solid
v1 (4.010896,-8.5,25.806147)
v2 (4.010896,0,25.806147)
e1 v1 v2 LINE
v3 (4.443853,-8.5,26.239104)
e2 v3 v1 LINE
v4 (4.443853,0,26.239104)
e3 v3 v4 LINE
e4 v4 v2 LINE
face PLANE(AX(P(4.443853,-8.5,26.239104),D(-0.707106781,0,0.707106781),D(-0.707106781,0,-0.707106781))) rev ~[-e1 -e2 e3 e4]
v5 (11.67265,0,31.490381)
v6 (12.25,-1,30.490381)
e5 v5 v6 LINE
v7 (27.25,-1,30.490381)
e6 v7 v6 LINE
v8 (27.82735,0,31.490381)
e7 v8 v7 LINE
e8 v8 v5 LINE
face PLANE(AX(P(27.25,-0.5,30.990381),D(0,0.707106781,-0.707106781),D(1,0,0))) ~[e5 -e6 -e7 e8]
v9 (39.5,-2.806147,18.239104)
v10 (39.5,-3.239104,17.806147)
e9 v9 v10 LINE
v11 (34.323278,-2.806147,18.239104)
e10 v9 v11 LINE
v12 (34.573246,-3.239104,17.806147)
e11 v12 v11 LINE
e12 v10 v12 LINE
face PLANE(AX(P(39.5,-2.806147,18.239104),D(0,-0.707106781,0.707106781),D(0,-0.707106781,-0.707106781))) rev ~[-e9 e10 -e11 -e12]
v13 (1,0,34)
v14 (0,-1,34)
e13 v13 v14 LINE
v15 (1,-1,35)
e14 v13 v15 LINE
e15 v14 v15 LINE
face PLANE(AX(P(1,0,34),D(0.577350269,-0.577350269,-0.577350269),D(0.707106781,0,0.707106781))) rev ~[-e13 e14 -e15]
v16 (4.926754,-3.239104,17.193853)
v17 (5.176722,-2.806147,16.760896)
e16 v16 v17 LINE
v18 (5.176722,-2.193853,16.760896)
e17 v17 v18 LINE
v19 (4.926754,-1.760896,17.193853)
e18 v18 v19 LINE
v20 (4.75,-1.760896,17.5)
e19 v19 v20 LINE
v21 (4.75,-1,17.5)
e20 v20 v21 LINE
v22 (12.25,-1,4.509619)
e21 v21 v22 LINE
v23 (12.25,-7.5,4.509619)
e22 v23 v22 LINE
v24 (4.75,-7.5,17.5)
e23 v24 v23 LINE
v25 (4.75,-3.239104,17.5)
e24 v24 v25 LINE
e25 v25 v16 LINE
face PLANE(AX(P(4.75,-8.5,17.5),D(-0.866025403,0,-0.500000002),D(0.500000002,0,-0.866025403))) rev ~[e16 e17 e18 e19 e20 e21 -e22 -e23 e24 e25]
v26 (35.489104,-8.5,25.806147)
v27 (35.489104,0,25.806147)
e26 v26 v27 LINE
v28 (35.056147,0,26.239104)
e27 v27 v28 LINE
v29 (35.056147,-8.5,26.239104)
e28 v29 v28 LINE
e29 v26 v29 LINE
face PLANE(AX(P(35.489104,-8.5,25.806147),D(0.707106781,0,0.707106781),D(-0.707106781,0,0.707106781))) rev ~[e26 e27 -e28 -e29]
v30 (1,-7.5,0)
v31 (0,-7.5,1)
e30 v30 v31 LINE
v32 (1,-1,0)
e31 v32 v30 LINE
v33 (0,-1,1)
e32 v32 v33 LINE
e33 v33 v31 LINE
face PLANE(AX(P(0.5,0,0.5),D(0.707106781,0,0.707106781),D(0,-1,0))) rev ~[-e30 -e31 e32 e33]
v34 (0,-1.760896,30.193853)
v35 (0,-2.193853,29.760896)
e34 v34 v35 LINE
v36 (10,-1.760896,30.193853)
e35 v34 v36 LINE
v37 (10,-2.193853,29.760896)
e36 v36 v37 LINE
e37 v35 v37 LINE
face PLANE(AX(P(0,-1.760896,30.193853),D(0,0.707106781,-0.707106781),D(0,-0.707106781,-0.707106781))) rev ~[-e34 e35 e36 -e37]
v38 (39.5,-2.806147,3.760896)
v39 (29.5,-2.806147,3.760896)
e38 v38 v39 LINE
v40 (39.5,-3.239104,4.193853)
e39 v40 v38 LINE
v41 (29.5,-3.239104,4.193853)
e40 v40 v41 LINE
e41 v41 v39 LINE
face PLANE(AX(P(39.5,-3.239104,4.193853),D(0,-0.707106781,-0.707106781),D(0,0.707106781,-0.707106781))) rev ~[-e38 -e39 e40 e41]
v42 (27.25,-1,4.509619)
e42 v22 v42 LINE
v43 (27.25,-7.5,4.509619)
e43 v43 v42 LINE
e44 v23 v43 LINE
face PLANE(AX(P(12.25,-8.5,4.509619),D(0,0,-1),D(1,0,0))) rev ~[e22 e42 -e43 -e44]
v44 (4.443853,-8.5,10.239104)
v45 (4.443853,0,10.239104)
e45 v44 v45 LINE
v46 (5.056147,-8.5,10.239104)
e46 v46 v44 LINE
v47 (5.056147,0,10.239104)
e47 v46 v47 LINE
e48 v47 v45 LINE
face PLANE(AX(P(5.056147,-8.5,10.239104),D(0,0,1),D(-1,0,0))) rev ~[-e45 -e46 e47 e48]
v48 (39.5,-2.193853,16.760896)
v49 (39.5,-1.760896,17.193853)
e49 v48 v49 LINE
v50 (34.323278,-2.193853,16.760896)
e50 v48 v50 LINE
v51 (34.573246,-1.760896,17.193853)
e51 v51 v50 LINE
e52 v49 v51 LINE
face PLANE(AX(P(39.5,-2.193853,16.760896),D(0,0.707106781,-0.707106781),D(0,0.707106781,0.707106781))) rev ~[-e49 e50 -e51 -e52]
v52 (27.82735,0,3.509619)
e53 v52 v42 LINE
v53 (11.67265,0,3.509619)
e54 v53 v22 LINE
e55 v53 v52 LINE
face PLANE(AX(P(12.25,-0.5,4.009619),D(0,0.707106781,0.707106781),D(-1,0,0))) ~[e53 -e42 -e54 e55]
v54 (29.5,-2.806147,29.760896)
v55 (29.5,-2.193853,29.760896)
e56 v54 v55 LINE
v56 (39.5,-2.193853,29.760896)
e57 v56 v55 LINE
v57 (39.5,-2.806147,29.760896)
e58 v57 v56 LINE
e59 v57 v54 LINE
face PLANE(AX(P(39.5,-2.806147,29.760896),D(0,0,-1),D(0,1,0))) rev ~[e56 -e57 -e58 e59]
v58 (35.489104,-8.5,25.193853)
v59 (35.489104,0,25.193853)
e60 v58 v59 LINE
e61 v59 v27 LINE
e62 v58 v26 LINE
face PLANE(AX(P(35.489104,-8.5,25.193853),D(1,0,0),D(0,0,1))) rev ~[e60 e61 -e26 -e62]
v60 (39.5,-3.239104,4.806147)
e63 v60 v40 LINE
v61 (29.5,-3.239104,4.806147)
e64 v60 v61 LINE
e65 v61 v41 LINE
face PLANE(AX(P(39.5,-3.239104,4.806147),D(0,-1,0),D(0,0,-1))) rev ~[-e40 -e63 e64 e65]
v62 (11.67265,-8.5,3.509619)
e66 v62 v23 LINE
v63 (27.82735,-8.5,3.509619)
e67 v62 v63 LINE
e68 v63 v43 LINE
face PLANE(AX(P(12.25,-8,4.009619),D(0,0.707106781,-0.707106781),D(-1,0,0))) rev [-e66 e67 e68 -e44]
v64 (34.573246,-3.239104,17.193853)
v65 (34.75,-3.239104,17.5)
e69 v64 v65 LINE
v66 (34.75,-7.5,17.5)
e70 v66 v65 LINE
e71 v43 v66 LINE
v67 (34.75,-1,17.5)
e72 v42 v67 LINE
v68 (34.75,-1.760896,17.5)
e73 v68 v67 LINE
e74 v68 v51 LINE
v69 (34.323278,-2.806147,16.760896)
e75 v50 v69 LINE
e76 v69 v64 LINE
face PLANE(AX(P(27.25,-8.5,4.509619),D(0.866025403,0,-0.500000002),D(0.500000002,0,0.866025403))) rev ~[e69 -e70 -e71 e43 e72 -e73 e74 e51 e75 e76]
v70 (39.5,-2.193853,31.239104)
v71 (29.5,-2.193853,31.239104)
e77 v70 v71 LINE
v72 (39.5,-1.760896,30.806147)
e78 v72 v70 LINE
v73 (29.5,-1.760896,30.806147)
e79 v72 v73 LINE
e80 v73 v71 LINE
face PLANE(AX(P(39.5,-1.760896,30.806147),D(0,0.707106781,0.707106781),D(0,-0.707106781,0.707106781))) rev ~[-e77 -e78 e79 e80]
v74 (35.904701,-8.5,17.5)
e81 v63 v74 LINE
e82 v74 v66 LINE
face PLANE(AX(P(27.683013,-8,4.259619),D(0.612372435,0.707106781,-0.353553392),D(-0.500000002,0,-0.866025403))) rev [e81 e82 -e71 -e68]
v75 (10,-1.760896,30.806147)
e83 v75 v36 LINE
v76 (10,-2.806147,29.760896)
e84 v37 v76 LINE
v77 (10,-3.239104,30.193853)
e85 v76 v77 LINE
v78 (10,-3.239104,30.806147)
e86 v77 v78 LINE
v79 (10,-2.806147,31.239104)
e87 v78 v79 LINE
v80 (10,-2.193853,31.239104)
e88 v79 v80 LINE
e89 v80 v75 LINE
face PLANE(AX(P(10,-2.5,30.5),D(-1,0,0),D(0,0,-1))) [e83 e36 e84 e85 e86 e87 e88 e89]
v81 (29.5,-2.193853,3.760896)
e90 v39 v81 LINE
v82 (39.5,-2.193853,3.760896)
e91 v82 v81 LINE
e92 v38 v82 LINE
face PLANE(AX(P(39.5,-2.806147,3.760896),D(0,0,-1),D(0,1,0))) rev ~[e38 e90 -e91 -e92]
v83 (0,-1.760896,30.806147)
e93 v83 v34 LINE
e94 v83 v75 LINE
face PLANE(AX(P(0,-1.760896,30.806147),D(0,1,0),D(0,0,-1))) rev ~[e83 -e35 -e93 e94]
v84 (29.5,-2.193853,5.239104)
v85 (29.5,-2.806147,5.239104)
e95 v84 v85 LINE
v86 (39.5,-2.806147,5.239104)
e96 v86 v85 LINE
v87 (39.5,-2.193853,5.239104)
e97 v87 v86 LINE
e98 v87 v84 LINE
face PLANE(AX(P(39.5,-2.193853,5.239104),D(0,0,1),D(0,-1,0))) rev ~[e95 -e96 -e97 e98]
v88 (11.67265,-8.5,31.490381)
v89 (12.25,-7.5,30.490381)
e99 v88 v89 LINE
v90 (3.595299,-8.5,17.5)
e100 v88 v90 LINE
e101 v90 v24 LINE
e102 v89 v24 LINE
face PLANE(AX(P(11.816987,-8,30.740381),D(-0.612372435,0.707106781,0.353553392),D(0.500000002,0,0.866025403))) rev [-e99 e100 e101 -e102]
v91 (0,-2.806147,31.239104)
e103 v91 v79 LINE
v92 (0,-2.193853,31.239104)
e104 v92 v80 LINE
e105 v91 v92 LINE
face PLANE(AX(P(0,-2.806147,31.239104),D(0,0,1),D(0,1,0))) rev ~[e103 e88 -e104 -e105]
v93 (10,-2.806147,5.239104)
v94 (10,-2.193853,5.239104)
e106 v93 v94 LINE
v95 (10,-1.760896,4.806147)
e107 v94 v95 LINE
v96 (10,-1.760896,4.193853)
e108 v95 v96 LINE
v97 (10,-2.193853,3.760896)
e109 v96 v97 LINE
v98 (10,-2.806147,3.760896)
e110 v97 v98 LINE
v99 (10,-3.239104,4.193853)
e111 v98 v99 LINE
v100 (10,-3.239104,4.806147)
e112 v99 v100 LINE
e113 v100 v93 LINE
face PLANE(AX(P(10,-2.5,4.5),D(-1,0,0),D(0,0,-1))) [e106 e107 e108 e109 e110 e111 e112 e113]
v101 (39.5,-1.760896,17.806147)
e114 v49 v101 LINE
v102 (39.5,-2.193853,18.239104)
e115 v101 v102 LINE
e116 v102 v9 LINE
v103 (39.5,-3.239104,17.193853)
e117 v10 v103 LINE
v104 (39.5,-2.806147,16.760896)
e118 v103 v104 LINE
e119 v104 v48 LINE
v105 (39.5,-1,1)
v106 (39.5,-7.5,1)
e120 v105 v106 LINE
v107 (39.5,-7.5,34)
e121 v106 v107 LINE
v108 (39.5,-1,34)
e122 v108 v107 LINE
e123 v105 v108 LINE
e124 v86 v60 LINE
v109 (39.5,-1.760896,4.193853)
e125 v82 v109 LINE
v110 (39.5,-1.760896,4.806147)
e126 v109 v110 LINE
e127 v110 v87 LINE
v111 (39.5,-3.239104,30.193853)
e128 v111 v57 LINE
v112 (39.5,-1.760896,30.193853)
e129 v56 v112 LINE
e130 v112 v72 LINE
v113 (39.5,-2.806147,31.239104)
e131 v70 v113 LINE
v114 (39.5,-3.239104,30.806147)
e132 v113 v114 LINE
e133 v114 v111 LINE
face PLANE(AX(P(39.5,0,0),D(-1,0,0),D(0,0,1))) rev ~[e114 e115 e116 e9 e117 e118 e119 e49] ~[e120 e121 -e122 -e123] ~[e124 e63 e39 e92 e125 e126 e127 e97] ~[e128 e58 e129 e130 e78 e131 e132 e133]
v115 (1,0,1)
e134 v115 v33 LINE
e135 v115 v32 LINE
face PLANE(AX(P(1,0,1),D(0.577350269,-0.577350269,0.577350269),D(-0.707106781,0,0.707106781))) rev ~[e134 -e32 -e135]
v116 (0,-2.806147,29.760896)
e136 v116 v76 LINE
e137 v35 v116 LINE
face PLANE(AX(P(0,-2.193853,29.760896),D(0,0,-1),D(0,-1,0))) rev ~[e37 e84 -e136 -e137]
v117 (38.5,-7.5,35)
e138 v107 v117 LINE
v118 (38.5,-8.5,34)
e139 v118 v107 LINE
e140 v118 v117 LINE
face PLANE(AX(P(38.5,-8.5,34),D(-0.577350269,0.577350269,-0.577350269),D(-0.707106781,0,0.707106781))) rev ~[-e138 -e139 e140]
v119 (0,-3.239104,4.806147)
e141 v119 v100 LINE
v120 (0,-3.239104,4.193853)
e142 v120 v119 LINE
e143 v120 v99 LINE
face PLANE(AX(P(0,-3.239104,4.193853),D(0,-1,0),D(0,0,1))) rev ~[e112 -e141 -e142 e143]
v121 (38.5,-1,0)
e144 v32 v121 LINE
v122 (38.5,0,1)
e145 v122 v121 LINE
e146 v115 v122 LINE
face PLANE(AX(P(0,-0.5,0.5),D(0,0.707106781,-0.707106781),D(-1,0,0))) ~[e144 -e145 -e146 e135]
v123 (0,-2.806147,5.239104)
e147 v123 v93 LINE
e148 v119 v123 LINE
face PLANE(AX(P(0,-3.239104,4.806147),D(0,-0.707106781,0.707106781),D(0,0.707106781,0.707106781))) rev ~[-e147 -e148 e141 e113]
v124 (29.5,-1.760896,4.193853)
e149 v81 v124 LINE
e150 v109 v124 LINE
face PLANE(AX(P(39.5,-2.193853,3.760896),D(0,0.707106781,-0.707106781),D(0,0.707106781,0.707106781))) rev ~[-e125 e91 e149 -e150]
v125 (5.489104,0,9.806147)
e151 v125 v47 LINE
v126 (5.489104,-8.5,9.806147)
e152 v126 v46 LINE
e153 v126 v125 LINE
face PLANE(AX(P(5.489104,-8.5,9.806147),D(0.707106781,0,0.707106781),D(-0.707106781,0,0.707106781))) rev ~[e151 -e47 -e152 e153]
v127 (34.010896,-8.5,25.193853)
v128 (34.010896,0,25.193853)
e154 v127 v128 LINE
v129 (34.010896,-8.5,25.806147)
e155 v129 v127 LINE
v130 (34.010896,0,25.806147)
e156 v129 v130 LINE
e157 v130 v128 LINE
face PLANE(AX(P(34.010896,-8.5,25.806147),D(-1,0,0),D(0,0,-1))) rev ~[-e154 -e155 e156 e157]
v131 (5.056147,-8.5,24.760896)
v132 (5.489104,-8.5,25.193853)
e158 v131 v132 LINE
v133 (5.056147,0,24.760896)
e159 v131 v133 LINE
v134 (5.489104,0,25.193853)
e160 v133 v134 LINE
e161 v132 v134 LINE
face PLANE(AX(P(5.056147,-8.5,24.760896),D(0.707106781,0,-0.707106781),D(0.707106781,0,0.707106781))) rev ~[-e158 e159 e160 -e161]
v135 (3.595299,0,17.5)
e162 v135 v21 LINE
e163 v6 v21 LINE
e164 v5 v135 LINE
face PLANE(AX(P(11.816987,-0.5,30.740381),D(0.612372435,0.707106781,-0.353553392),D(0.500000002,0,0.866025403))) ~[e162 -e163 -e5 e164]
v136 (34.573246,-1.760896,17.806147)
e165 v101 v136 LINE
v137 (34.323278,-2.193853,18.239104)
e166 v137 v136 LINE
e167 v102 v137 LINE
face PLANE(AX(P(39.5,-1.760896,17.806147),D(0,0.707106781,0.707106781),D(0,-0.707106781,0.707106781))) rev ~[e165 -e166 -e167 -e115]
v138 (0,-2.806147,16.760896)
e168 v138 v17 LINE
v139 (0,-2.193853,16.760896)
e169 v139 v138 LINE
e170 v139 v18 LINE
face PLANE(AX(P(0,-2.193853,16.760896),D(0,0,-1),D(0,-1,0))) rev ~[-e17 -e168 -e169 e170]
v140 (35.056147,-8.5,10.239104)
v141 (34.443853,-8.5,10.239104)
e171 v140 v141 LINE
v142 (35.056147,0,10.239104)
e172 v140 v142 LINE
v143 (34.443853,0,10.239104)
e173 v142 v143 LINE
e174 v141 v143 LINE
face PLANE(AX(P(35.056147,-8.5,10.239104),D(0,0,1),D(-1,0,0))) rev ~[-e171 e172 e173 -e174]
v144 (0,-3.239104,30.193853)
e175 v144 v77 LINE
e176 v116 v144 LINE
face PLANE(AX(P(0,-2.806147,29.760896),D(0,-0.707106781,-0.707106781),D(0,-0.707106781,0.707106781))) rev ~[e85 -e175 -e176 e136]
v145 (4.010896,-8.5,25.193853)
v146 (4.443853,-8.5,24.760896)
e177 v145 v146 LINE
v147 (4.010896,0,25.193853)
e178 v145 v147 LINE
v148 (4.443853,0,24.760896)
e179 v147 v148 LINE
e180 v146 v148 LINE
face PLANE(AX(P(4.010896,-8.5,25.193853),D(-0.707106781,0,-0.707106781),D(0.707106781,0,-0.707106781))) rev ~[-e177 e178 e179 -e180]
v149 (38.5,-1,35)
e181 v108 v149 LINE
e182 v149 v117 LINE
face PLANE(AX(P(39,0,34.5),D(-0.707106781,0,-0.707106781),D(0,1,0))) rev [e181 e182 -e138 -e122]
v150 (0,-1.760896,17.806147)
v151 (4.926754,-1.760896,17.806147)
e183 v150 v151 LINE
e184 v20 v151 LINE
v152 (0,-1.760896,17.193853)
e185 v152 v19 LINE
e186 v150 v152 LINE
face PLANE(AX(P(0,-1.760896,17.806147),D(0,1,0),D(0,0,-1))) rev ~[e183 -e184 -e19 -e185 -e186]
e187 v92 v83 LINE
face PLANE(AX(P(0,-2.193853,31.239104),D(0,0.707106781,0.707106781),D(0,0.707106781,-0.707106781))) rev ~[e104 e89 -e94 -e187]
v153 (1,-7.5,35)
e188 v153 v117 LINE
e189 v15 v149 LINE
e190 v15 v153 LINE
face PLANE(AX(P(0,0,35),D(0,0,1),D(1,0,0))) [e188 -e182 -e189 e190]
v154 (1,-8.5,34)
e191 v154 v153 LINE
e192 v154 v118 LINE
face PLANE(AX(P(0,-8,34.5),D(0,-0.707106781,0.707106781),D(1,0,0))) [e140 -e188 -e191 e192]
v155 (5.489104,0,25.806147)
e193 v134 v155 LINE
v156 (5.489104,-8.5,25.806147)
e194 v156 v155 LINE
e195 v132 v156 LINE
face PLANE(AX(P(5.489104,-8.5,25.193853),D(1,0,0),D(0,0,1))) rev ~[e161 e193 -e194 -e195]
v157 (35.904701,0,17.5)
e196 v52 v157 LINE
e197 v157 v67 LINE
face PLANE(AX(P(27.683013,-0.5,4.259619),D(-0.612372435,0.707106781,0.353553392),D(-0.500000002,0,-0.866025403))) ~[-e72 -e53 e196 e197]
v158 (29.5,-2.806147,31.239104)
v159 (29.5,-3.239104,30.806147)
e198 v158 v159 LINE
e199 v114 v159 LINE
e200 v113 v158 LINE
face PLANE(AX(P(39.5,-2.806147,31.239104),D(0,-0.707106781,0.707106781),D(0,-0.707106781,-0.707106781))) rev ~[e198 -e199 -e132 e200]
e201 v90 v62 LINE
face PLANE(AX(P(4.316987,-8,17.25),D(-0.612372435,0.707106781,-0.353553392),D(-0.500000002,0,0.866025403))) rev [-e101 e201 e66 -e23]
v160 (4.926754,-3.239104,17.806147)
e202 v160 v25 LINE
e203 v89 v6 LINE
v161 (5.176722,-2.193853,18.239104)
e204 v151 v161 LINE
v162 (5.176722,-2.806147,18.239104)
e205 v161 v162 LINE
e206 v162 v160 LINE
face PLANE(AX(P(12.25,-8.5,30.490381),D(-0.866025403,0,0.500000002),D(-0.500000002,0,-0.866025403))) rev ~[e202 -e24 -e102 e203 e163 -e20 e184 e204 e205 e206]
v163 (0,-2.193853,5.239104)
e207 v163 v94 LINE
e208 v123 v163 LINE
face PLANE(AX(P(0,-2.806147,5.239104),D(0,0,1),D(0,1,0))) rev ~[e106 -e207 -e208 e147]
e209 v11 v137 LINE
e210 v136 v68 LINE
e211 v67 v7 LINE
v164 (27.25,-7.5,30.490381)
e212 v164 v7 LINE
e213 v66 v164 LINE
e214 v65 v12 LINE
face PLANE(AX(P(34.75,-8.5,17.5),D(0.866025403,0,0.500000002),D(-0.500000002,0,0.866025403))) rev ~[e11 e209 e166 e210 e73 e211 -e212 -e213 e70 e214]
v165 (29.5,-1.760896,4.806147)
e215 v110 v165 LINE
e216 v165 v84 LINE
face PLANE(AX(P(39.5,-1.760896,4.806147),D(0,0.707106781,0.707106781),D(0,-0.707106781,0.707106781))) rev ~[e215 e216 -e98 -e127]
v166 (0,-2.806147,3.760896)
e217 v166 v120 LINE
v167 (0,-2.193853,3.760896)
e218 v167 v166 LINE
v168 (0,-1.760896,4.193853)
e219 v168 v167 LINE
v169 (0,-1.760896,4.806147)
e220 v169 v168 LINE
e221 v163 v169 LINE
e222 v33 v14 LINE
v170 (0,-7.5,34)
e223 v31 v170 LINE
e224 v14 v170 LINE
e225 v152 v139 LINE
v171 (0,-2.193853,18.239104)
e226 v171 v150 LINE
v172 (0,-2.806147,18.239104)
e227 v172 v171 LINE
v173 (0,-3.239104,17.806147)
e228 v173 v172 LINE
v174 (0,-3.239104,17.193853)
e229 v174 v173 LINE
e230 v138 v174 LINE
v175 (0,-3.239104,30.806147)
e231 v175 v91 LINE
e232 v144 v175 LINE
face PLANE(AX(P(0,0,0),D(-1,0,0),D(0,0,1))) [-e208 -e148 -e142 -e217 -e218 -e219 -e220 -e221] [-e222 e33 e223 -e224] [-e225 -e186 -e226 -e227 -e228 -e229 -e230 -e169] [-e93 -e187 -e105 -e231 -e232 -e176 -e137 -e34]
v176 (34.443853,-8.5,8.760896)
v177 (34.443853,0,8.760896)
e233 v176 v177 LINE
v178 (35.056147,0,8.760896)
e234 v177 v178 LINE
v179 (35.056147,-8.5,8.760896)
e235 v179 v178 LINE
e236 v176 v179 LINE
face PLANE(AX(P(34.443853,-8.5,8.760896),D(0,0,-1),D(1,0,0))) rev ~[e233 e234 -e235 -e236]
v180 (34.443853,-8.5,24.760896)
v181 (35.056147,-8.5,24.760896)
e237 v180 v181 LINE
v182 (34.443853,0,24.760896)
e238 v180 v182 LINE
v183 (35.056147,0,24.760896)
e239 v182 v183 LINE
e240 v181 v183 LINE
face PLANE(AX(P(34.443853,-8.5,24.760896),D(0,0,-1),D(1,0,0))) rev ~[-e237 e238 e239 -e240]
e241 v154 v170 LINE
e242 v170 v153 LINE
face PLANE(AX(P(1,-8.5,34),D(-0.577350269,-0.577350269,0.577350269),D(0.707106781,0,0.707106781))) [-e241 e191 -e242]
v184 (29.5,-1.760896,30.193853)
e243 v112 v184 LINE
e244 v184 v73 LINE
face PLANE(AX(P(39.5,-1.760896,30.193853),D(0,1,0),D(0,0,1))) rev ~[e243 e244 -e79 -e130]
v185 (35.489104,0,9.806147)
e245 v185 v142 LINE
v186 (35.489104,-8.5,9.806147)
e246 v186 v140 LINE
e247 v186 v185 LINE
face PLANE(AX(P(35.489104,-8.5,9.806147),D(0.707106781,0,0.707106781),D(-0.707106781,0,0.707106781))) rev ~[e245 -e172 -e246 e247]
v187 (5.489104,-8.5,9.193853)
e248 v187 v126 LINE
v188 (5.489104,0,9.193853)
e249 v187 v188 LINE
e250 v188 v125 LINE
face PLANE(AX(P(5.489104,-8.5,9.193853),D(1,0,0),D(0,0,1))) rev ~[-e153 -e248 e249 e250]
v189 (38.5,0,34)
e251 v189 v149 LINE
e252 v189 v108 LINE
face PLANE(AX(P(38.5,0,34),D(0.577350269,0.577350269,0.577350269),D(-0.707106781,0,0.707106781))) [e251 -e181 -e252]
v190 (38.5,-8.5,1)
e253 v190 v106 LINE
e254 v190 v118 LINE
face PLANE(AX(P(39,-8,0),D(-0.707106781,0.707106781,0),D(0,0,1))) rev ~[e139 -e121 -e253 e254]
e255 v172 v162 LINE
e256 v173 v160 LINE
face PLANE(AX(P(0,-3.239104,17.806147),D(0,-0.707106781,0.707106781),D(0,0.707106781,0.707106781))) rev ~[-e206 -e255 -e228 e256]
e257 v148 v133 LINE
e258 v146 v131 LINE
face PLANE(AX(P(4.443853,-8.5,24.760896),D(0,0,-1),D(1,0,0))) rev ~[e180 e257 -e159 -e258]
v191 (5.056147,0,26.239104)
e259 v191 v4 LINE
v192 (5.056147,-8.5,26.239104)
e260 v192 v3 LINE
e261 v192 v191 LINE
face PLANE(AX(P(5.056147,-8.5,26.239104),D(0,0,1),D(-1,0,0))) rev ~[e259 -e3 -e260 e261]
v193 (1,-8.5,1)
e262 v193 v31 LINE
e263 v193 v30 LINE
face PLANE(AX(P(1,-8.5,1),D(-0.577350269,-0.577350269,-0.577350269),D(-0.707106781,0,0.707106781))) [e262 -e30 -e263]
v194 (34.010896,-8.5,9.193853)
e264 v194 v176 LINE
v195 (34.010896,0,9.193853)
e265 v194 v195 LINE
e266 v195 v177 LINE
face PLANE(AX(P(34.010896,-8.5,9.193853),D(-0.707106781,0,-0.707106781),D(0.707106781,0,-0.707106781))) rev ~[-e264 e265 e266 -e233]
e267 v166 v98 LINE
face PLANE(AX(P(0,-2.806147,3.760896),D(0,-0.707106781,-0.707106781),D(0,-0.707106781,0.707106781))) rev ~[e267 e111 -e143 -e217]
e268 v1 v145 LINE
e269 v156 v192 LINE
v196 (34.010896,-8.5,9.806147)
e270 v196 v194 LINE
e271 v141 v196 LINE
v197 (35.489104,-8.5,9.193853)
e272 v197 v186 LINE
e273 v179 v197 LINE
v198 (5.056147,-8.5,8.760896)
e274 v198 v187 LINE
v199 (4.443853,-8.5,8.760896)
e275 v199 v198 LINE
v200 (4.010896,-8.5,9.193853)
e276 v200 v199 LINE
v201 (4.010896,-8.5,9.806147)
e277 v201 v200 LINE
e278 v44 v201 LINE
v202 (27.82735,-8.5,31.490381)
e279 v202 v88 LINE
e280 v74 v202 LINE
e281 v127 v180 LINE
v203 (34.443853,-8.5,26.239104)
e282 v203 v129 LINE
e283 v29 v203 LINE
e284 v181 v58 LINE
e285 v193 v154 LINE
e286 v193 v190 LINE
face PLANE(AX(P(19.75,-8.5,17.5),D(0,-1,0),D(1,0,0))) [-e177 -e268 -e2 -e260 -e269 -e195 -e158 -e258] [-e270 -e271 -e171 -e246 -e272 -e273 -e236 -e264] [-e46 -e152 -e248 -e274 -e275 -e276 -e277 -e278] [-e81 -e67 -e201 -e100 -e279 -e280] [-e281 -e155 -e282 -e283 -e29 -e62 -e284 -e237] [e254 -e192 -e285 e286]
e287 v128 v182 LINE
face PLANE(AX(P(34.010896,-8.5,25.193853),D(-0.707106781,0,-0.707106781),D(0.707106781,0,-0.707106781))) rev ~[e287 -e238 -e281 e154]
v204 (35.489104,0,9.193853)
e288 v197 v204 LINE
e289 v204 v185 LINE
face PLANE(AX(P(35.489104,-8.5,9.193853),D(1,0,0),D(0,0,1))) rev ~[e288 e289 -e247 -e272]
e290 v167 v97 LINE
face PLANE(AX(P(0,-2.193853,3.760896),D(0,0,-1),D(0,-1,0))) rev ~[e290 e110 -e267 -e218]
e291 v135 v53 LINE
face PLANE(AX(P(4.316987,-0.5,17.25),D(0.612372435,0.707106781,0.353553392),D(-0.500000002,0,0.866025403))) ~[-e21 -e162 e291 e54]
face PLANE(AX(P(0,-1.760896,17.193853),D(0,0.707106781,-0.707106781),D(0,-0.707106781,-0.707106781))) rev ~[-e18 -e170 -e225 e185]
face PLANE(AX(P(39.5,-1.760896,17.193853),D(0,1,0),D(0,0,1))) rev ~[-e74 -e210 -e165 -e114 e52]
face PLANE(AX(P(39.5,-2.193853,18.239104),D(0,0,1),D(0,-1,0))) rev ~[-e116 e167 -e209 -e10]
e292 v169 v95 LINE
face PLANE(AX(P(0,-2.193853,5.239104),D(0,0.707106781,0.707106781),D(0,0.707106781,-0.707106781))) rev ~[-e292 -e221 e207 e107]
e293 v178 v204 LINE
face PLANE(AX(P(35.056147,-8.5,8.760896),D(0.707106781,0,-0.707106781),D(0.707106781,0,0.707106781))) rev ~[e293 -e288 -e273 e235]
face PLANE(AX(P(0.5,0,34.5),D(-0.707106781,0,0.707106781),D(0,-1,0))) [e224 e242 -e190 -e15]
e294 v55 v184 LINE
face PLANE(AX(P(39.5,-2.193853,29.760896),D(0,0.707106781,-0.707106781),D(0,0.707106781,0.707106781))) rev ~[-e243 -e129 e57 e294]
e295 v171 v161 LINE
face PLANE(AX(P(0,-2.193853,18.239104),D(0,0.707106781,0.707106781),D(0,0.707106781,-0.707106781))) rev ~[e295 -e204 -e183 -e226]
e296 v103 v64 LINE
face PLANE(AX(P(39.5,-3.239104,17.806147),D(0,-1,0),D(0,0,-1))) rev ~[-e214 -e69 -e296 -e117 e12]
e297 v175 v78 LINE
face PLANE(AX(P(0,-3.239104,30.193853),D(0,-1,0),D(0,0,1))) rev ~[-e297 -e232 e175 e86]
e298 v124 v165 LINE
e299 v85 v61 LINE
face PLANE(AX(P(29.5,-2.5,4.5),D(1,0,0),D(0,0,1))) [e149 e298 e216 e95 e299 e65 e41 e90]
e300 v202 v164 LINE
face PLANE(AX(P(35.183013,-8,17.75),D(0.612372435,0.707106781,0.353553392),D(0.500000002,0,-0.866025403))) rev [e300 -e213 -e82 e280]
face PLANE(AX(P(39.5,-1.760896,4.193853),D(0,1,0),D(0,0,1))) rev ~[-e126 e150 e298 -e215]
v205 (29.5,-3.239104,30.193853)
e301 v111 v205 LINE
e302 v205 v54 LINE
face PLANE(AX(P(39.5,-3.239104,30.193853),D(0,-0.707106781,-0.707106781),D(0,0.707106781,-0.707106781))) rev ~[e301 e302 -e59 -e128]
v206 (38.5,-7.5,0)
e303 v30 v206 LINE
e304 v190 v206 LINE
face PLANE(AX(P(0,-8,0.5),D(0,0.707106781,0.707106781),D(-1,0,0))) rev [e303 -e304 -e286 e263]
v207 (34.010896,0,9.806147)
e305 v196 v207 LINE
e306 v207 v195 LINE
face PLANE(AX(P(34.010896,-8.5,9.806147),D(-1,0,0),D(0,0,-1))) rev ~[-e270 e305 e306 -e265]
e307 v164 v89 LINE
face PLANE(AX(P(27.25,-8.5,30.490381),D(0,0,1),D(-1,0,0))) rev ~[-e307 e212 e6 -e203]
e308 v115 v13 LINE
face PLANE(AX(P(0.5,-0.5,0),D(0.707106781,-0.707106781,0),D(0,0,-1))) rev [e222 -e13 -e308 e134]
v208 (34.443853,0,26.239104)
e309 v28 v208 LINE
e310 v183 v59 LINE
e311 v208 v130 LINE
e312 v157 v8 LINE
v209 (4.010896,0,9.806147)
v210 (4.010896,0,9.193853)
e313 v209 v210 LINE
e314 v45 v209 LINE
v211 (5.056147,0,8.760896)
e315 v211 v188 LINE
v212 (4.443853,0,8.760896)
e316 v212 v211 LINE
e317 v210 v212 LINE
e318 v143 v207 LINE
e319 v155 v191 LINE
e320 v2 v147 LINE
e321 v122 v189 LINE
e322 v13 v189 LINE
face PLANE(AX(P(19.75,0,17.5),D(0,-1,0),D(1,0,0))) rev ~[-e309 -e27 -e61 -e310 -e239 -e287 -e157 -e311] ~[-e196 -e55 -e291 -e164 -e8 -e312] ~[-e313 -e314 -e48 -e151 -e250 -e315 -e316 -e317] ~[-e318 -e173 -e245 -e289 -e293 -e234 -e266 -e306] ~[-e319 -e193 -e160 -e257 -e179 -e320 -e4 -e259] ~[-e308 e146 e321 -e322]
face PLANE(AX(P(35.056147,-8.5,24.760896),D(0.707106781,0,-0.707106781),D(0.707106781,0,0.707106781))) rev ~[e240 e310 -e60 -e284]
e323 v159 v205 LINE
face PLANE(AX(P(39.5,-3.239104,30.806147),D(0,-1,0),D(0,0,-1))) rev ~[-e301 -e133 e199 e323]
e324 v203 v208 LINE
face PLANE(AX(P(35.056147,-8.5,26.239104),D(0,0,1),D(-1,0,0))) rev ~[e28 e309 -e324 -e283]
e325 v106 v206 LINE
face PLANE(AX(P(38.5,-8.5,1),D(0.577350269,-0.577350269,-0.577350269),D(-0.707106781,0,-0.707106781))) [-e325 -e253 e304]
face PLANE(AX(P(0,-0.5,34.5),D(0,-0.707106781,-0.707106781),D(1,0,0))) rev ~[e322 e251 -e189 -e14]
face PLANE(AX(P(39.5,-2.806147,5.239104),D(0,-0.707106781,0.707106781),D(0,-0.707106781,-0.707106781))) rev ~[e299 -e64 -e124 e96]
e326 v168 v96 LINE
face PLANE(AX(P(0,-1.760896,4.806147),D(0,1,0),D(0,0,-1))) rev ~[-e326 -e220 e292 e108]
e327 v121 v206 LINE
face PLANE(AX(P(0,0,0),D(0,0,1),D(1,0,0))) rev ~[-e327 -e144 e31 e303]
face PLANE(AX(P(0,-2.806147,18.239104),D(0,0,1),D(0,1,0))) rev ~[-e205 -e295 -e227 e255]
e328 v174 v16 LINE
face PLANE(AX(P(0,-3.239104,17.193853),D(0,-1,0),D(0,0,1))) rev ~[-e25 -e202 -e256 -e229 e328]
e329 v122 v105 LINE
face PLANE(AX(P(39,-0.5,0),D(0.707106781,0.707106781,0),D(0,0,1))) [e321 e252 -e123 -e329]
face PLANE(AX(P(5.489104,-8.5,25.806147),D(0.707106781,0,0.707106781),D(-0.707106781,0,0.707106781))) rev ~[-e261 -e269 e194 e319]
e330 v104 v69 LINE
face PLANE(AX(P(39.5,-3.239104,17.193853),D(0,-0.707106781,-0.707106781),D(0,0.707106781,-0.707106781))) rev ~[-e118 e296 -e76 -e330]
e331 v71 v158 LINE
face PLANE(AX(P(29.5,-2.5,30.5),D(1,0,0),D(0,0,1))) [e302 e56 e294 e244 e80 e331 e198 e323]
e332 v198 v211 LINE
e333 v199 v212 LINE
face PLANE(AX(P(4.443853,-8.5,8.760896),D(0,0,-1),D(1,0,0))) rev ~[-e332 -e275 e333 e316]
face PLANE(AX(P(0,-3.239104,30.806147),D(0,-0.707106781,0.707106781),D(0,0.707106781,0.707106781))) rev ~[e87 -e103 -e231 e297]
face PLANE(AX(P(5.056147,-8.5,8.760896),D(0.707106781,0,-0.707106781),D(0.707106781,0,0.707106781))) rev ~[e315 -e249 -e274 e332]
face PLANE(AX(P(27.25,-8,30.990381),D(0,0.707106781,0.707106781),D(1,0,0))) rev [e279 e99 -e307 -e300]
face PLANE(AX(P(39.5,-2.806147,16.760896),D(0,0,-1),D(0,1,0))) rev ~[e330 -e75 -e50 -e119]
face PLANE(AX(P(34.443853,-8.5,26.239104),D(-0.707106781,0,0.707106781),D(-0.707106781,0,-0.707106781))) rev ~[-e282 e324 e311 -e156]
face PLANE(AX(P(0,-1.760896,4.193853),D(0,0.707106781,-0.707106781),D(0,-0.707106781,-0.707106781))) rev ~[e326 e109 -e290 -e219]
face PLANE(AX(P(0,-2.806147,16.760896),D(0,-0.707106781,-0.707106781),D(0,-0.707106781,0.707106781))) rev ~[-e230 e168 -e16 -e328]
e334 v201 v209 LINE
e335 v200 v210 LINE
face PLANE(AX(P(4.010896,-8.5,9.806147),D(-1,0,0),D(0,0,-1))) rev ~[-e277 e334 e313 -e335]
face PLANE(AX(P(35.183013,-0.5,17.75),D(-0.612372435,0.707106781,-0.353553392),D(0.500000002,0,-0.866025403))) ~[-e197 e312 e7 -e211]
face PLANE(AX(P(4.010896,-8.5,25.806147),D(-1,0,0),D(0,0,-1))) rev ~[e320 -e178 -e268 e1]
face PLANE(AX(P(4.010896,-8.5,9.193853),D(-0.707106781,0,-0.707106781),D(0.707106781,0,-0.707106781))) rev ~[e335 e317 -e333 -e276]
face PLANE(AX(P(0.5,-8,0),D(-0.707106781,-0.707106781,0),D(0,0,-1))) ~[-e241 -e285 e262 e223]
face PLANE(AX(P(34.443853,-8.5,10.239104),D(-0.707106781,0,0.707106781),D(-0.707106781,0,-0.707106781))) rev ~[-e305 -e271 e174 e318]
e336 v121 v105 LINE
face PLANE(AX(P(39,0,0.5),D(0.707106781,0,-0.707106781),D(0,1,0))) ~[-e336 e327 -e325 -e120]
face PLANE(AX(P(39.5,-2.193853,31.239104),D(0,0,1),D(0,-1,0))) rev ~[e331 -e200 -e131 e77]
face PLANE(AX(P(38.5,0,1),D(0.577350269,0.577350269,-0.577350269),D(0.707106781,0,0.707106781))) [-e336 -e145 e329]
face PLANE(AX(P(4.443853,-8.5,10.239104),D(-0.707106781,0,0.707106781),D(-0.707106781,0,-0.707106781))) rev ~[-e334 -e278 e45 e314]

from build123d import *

# Parameters (mm, degrees)
SKETCH_W        = 39.5
SKETCH_H        = 35
PAD_DEPTH       = 8.5
POCKET_DEPTH    = 10
POCKET001_DEPTH = 10
POCKET002_DEPTH = 8.501
CHAMFER_SIZE    = 1
CHAMFER001_SIZE = 1


with BuildPart() as part:
    # Sketch → Pad (new body)
    with BuildSketch(Plane.XZ):
        with Locations((19.75, 17.5)):
            Rectangle(SKETCH_W, SKETCH_H)
    extrude(amount=PAD_DEPTH)

    # Sketch001 (on Face2 of Pad) → Pocket (cut)
    with BuildSketch(Plane(origin=(39.5, 0, 0), x_dir=(0, 0, 1), z_dir=(1, 0, 0))):
        Polygon((4.193853, 3.239104), (3.760896, 2.806147), (3.760896, 2.193853), (4.193853, 1.760896), (4.806147, 1.760896), (5.239104, 2.193853), (5.239104, 2.806147), (4.806147, 3.239104), align=None)
        Polygon((17.193853, 3.239104), (16.760896, 2.806147), (16.760896, 2.193853), (17.193853, 1.760896), (17.806147, 1.760896), (18.239104, 2.193853), (18.239104, 2.806147), (17.806147, 3.239104), align=None)
        Polygon((30.193853, 3.239104), (29.760896, 2.806147), (29.760896, 2.193853), (30.193853, 1.760896), (30.806147, 1.760896), (31.239104, 2.193853), (31.239104, 2.806147), (30.806147, 3.239104), align=None)
    extrude(amount=-POCKET_DEPTH, mode=Mode.SUBTRACT)

    # Sketch003 (on Face2 of Pocket) → Pocket001 (cut)
    with BuildSketch(Plane(origin=(0, 0, 0), x_dir=(0, 0, -1), z_dir=(-1, 0, 0))):
        Polygon((-30.806147, 3.239104), (-31.239104, 2.806147), (-31.239104, 2.193853), (-30.806147, 1.760896), (-30.193853, 1.760896), (-29.760896, 2.193853), (-29.760896, 2.806147), (-30.193853, 3.239104), align=None)
        Polygon((-17.806147, 3.239104), (-18.239104, 2.806147), (-18.239104, 2.193853), (-17.806147, 1.760896), (-17.193853, 1.760896), (-16.760896, 2.193853), (-16.760896, 2.806147), (-17.193853, 3.239104), align=None)
        Polygon((-4.806147, 3.239104), (-5.239104, 2.806147), (-5.239104, 2.193853), (-4.806147, 1.760896), (-4.193853, 1.760896), (-3.760896, 2.193853), (-3.760896, 2.806147), (-4.193853, 3.239104), align=None)
    extrude(amount=-POCKET001_DEPTH, mode=Mode.SUBTRACT)

    # Sketch004 (on Face5 of Pocket001) → Pocket002 (cut, through all)
    with BuildSketch(Plane.XZ.offset(8.5)):
        Polygon((4.443853, 26.239104), (4.010896, 25.806147), (4.010896, 25.193853), (4.443853, 24.760896), (5.056147, 24.760896), (5.489104, 25.193853), (5.489104, 25.806147), (5.056147, 26.239104), align=None)
        Polygon((34.443853, 26.239104), (34.010896, 25.806147), (34.010896, 25.193853), (34.443853, 24.760896), (35.056147, 24.760896), (35.489104, 25.193853), (35.489104, 25.806147), (35.056147, 26.239104), align=None)
        Polygon((34.443853, 10.239104), (34.010896, 9.806147), (34.010896, 9.193853), (34.443853, 8.760896), (35.056147, 8.760896), (35.489104, 9.193853), (35.489104, 9.806147), (35.056147, 10.239104), align=None)
        Polygon((4.443853, 10.239104), (4.010896, 9.806147), (4.010896, 9.193853), (4.443853, 8.760896), (5.056147, 8.760896), (5.489104, 9.193853), (5.489104, 9.806147), (5.056147, 10.239104), align=None)
        Polygon((12.25, 4.509619), (27.25, 4.509619), (34.75, 17.5), (27.25, 30.490381), (12.25, 30.490381), (4.75, 17.5), align=None)
    extrude(amount=-POCKET002_DEPTH, mode=Mode.SUBTRACT)

    # Chamfer
    chamfer_edges = [part.edges().sort_by_distance(p)[0] for p in [
        (39.5, -4.25, 35),
        (0, -4.25, 35),
        (0, -4.25, 0),
        (39.5, -4.25, 0),
        (39.5, -8.5, 17.5),
        (19.75, -8.5, 0),
        (19.75, 0, 0),
        (39.5, 0, 17.5),
        (0, 0, 17.5),
        (0, -8.5, 17.5),
        (19.75, -8.5, 35),
        (19.75, 0, 35),
    ]]
    chamfer(chamfer_edges, length=CHAMFER_SIZE)

    # Chamfer001
    chamfer001_edges = [part.edges().sort_by_distance(p)[0] for p in [
        (31, -8.5, 11.004809),
        (19.75, -8.5, 4.509619),
        (31, -8.5, 23.995191),
        (19.75, -8.5, 30.490381),
        (8.5, -8.5, 23.995191),
        (8.5, -8.5, 11.004809),
        (8.5, 0, 23.995191),
        (19.75, 0, 30.490381),
        (31, 0, 23.995191),
        (31, 0, 11.004809),
        (19.75, 0, 4.509619),
        (8.5, 0, 11.004809),
    ]]
    chamfer(chamfer001_edges, length=CHAMFER001_SIZE)


solid = part.part
